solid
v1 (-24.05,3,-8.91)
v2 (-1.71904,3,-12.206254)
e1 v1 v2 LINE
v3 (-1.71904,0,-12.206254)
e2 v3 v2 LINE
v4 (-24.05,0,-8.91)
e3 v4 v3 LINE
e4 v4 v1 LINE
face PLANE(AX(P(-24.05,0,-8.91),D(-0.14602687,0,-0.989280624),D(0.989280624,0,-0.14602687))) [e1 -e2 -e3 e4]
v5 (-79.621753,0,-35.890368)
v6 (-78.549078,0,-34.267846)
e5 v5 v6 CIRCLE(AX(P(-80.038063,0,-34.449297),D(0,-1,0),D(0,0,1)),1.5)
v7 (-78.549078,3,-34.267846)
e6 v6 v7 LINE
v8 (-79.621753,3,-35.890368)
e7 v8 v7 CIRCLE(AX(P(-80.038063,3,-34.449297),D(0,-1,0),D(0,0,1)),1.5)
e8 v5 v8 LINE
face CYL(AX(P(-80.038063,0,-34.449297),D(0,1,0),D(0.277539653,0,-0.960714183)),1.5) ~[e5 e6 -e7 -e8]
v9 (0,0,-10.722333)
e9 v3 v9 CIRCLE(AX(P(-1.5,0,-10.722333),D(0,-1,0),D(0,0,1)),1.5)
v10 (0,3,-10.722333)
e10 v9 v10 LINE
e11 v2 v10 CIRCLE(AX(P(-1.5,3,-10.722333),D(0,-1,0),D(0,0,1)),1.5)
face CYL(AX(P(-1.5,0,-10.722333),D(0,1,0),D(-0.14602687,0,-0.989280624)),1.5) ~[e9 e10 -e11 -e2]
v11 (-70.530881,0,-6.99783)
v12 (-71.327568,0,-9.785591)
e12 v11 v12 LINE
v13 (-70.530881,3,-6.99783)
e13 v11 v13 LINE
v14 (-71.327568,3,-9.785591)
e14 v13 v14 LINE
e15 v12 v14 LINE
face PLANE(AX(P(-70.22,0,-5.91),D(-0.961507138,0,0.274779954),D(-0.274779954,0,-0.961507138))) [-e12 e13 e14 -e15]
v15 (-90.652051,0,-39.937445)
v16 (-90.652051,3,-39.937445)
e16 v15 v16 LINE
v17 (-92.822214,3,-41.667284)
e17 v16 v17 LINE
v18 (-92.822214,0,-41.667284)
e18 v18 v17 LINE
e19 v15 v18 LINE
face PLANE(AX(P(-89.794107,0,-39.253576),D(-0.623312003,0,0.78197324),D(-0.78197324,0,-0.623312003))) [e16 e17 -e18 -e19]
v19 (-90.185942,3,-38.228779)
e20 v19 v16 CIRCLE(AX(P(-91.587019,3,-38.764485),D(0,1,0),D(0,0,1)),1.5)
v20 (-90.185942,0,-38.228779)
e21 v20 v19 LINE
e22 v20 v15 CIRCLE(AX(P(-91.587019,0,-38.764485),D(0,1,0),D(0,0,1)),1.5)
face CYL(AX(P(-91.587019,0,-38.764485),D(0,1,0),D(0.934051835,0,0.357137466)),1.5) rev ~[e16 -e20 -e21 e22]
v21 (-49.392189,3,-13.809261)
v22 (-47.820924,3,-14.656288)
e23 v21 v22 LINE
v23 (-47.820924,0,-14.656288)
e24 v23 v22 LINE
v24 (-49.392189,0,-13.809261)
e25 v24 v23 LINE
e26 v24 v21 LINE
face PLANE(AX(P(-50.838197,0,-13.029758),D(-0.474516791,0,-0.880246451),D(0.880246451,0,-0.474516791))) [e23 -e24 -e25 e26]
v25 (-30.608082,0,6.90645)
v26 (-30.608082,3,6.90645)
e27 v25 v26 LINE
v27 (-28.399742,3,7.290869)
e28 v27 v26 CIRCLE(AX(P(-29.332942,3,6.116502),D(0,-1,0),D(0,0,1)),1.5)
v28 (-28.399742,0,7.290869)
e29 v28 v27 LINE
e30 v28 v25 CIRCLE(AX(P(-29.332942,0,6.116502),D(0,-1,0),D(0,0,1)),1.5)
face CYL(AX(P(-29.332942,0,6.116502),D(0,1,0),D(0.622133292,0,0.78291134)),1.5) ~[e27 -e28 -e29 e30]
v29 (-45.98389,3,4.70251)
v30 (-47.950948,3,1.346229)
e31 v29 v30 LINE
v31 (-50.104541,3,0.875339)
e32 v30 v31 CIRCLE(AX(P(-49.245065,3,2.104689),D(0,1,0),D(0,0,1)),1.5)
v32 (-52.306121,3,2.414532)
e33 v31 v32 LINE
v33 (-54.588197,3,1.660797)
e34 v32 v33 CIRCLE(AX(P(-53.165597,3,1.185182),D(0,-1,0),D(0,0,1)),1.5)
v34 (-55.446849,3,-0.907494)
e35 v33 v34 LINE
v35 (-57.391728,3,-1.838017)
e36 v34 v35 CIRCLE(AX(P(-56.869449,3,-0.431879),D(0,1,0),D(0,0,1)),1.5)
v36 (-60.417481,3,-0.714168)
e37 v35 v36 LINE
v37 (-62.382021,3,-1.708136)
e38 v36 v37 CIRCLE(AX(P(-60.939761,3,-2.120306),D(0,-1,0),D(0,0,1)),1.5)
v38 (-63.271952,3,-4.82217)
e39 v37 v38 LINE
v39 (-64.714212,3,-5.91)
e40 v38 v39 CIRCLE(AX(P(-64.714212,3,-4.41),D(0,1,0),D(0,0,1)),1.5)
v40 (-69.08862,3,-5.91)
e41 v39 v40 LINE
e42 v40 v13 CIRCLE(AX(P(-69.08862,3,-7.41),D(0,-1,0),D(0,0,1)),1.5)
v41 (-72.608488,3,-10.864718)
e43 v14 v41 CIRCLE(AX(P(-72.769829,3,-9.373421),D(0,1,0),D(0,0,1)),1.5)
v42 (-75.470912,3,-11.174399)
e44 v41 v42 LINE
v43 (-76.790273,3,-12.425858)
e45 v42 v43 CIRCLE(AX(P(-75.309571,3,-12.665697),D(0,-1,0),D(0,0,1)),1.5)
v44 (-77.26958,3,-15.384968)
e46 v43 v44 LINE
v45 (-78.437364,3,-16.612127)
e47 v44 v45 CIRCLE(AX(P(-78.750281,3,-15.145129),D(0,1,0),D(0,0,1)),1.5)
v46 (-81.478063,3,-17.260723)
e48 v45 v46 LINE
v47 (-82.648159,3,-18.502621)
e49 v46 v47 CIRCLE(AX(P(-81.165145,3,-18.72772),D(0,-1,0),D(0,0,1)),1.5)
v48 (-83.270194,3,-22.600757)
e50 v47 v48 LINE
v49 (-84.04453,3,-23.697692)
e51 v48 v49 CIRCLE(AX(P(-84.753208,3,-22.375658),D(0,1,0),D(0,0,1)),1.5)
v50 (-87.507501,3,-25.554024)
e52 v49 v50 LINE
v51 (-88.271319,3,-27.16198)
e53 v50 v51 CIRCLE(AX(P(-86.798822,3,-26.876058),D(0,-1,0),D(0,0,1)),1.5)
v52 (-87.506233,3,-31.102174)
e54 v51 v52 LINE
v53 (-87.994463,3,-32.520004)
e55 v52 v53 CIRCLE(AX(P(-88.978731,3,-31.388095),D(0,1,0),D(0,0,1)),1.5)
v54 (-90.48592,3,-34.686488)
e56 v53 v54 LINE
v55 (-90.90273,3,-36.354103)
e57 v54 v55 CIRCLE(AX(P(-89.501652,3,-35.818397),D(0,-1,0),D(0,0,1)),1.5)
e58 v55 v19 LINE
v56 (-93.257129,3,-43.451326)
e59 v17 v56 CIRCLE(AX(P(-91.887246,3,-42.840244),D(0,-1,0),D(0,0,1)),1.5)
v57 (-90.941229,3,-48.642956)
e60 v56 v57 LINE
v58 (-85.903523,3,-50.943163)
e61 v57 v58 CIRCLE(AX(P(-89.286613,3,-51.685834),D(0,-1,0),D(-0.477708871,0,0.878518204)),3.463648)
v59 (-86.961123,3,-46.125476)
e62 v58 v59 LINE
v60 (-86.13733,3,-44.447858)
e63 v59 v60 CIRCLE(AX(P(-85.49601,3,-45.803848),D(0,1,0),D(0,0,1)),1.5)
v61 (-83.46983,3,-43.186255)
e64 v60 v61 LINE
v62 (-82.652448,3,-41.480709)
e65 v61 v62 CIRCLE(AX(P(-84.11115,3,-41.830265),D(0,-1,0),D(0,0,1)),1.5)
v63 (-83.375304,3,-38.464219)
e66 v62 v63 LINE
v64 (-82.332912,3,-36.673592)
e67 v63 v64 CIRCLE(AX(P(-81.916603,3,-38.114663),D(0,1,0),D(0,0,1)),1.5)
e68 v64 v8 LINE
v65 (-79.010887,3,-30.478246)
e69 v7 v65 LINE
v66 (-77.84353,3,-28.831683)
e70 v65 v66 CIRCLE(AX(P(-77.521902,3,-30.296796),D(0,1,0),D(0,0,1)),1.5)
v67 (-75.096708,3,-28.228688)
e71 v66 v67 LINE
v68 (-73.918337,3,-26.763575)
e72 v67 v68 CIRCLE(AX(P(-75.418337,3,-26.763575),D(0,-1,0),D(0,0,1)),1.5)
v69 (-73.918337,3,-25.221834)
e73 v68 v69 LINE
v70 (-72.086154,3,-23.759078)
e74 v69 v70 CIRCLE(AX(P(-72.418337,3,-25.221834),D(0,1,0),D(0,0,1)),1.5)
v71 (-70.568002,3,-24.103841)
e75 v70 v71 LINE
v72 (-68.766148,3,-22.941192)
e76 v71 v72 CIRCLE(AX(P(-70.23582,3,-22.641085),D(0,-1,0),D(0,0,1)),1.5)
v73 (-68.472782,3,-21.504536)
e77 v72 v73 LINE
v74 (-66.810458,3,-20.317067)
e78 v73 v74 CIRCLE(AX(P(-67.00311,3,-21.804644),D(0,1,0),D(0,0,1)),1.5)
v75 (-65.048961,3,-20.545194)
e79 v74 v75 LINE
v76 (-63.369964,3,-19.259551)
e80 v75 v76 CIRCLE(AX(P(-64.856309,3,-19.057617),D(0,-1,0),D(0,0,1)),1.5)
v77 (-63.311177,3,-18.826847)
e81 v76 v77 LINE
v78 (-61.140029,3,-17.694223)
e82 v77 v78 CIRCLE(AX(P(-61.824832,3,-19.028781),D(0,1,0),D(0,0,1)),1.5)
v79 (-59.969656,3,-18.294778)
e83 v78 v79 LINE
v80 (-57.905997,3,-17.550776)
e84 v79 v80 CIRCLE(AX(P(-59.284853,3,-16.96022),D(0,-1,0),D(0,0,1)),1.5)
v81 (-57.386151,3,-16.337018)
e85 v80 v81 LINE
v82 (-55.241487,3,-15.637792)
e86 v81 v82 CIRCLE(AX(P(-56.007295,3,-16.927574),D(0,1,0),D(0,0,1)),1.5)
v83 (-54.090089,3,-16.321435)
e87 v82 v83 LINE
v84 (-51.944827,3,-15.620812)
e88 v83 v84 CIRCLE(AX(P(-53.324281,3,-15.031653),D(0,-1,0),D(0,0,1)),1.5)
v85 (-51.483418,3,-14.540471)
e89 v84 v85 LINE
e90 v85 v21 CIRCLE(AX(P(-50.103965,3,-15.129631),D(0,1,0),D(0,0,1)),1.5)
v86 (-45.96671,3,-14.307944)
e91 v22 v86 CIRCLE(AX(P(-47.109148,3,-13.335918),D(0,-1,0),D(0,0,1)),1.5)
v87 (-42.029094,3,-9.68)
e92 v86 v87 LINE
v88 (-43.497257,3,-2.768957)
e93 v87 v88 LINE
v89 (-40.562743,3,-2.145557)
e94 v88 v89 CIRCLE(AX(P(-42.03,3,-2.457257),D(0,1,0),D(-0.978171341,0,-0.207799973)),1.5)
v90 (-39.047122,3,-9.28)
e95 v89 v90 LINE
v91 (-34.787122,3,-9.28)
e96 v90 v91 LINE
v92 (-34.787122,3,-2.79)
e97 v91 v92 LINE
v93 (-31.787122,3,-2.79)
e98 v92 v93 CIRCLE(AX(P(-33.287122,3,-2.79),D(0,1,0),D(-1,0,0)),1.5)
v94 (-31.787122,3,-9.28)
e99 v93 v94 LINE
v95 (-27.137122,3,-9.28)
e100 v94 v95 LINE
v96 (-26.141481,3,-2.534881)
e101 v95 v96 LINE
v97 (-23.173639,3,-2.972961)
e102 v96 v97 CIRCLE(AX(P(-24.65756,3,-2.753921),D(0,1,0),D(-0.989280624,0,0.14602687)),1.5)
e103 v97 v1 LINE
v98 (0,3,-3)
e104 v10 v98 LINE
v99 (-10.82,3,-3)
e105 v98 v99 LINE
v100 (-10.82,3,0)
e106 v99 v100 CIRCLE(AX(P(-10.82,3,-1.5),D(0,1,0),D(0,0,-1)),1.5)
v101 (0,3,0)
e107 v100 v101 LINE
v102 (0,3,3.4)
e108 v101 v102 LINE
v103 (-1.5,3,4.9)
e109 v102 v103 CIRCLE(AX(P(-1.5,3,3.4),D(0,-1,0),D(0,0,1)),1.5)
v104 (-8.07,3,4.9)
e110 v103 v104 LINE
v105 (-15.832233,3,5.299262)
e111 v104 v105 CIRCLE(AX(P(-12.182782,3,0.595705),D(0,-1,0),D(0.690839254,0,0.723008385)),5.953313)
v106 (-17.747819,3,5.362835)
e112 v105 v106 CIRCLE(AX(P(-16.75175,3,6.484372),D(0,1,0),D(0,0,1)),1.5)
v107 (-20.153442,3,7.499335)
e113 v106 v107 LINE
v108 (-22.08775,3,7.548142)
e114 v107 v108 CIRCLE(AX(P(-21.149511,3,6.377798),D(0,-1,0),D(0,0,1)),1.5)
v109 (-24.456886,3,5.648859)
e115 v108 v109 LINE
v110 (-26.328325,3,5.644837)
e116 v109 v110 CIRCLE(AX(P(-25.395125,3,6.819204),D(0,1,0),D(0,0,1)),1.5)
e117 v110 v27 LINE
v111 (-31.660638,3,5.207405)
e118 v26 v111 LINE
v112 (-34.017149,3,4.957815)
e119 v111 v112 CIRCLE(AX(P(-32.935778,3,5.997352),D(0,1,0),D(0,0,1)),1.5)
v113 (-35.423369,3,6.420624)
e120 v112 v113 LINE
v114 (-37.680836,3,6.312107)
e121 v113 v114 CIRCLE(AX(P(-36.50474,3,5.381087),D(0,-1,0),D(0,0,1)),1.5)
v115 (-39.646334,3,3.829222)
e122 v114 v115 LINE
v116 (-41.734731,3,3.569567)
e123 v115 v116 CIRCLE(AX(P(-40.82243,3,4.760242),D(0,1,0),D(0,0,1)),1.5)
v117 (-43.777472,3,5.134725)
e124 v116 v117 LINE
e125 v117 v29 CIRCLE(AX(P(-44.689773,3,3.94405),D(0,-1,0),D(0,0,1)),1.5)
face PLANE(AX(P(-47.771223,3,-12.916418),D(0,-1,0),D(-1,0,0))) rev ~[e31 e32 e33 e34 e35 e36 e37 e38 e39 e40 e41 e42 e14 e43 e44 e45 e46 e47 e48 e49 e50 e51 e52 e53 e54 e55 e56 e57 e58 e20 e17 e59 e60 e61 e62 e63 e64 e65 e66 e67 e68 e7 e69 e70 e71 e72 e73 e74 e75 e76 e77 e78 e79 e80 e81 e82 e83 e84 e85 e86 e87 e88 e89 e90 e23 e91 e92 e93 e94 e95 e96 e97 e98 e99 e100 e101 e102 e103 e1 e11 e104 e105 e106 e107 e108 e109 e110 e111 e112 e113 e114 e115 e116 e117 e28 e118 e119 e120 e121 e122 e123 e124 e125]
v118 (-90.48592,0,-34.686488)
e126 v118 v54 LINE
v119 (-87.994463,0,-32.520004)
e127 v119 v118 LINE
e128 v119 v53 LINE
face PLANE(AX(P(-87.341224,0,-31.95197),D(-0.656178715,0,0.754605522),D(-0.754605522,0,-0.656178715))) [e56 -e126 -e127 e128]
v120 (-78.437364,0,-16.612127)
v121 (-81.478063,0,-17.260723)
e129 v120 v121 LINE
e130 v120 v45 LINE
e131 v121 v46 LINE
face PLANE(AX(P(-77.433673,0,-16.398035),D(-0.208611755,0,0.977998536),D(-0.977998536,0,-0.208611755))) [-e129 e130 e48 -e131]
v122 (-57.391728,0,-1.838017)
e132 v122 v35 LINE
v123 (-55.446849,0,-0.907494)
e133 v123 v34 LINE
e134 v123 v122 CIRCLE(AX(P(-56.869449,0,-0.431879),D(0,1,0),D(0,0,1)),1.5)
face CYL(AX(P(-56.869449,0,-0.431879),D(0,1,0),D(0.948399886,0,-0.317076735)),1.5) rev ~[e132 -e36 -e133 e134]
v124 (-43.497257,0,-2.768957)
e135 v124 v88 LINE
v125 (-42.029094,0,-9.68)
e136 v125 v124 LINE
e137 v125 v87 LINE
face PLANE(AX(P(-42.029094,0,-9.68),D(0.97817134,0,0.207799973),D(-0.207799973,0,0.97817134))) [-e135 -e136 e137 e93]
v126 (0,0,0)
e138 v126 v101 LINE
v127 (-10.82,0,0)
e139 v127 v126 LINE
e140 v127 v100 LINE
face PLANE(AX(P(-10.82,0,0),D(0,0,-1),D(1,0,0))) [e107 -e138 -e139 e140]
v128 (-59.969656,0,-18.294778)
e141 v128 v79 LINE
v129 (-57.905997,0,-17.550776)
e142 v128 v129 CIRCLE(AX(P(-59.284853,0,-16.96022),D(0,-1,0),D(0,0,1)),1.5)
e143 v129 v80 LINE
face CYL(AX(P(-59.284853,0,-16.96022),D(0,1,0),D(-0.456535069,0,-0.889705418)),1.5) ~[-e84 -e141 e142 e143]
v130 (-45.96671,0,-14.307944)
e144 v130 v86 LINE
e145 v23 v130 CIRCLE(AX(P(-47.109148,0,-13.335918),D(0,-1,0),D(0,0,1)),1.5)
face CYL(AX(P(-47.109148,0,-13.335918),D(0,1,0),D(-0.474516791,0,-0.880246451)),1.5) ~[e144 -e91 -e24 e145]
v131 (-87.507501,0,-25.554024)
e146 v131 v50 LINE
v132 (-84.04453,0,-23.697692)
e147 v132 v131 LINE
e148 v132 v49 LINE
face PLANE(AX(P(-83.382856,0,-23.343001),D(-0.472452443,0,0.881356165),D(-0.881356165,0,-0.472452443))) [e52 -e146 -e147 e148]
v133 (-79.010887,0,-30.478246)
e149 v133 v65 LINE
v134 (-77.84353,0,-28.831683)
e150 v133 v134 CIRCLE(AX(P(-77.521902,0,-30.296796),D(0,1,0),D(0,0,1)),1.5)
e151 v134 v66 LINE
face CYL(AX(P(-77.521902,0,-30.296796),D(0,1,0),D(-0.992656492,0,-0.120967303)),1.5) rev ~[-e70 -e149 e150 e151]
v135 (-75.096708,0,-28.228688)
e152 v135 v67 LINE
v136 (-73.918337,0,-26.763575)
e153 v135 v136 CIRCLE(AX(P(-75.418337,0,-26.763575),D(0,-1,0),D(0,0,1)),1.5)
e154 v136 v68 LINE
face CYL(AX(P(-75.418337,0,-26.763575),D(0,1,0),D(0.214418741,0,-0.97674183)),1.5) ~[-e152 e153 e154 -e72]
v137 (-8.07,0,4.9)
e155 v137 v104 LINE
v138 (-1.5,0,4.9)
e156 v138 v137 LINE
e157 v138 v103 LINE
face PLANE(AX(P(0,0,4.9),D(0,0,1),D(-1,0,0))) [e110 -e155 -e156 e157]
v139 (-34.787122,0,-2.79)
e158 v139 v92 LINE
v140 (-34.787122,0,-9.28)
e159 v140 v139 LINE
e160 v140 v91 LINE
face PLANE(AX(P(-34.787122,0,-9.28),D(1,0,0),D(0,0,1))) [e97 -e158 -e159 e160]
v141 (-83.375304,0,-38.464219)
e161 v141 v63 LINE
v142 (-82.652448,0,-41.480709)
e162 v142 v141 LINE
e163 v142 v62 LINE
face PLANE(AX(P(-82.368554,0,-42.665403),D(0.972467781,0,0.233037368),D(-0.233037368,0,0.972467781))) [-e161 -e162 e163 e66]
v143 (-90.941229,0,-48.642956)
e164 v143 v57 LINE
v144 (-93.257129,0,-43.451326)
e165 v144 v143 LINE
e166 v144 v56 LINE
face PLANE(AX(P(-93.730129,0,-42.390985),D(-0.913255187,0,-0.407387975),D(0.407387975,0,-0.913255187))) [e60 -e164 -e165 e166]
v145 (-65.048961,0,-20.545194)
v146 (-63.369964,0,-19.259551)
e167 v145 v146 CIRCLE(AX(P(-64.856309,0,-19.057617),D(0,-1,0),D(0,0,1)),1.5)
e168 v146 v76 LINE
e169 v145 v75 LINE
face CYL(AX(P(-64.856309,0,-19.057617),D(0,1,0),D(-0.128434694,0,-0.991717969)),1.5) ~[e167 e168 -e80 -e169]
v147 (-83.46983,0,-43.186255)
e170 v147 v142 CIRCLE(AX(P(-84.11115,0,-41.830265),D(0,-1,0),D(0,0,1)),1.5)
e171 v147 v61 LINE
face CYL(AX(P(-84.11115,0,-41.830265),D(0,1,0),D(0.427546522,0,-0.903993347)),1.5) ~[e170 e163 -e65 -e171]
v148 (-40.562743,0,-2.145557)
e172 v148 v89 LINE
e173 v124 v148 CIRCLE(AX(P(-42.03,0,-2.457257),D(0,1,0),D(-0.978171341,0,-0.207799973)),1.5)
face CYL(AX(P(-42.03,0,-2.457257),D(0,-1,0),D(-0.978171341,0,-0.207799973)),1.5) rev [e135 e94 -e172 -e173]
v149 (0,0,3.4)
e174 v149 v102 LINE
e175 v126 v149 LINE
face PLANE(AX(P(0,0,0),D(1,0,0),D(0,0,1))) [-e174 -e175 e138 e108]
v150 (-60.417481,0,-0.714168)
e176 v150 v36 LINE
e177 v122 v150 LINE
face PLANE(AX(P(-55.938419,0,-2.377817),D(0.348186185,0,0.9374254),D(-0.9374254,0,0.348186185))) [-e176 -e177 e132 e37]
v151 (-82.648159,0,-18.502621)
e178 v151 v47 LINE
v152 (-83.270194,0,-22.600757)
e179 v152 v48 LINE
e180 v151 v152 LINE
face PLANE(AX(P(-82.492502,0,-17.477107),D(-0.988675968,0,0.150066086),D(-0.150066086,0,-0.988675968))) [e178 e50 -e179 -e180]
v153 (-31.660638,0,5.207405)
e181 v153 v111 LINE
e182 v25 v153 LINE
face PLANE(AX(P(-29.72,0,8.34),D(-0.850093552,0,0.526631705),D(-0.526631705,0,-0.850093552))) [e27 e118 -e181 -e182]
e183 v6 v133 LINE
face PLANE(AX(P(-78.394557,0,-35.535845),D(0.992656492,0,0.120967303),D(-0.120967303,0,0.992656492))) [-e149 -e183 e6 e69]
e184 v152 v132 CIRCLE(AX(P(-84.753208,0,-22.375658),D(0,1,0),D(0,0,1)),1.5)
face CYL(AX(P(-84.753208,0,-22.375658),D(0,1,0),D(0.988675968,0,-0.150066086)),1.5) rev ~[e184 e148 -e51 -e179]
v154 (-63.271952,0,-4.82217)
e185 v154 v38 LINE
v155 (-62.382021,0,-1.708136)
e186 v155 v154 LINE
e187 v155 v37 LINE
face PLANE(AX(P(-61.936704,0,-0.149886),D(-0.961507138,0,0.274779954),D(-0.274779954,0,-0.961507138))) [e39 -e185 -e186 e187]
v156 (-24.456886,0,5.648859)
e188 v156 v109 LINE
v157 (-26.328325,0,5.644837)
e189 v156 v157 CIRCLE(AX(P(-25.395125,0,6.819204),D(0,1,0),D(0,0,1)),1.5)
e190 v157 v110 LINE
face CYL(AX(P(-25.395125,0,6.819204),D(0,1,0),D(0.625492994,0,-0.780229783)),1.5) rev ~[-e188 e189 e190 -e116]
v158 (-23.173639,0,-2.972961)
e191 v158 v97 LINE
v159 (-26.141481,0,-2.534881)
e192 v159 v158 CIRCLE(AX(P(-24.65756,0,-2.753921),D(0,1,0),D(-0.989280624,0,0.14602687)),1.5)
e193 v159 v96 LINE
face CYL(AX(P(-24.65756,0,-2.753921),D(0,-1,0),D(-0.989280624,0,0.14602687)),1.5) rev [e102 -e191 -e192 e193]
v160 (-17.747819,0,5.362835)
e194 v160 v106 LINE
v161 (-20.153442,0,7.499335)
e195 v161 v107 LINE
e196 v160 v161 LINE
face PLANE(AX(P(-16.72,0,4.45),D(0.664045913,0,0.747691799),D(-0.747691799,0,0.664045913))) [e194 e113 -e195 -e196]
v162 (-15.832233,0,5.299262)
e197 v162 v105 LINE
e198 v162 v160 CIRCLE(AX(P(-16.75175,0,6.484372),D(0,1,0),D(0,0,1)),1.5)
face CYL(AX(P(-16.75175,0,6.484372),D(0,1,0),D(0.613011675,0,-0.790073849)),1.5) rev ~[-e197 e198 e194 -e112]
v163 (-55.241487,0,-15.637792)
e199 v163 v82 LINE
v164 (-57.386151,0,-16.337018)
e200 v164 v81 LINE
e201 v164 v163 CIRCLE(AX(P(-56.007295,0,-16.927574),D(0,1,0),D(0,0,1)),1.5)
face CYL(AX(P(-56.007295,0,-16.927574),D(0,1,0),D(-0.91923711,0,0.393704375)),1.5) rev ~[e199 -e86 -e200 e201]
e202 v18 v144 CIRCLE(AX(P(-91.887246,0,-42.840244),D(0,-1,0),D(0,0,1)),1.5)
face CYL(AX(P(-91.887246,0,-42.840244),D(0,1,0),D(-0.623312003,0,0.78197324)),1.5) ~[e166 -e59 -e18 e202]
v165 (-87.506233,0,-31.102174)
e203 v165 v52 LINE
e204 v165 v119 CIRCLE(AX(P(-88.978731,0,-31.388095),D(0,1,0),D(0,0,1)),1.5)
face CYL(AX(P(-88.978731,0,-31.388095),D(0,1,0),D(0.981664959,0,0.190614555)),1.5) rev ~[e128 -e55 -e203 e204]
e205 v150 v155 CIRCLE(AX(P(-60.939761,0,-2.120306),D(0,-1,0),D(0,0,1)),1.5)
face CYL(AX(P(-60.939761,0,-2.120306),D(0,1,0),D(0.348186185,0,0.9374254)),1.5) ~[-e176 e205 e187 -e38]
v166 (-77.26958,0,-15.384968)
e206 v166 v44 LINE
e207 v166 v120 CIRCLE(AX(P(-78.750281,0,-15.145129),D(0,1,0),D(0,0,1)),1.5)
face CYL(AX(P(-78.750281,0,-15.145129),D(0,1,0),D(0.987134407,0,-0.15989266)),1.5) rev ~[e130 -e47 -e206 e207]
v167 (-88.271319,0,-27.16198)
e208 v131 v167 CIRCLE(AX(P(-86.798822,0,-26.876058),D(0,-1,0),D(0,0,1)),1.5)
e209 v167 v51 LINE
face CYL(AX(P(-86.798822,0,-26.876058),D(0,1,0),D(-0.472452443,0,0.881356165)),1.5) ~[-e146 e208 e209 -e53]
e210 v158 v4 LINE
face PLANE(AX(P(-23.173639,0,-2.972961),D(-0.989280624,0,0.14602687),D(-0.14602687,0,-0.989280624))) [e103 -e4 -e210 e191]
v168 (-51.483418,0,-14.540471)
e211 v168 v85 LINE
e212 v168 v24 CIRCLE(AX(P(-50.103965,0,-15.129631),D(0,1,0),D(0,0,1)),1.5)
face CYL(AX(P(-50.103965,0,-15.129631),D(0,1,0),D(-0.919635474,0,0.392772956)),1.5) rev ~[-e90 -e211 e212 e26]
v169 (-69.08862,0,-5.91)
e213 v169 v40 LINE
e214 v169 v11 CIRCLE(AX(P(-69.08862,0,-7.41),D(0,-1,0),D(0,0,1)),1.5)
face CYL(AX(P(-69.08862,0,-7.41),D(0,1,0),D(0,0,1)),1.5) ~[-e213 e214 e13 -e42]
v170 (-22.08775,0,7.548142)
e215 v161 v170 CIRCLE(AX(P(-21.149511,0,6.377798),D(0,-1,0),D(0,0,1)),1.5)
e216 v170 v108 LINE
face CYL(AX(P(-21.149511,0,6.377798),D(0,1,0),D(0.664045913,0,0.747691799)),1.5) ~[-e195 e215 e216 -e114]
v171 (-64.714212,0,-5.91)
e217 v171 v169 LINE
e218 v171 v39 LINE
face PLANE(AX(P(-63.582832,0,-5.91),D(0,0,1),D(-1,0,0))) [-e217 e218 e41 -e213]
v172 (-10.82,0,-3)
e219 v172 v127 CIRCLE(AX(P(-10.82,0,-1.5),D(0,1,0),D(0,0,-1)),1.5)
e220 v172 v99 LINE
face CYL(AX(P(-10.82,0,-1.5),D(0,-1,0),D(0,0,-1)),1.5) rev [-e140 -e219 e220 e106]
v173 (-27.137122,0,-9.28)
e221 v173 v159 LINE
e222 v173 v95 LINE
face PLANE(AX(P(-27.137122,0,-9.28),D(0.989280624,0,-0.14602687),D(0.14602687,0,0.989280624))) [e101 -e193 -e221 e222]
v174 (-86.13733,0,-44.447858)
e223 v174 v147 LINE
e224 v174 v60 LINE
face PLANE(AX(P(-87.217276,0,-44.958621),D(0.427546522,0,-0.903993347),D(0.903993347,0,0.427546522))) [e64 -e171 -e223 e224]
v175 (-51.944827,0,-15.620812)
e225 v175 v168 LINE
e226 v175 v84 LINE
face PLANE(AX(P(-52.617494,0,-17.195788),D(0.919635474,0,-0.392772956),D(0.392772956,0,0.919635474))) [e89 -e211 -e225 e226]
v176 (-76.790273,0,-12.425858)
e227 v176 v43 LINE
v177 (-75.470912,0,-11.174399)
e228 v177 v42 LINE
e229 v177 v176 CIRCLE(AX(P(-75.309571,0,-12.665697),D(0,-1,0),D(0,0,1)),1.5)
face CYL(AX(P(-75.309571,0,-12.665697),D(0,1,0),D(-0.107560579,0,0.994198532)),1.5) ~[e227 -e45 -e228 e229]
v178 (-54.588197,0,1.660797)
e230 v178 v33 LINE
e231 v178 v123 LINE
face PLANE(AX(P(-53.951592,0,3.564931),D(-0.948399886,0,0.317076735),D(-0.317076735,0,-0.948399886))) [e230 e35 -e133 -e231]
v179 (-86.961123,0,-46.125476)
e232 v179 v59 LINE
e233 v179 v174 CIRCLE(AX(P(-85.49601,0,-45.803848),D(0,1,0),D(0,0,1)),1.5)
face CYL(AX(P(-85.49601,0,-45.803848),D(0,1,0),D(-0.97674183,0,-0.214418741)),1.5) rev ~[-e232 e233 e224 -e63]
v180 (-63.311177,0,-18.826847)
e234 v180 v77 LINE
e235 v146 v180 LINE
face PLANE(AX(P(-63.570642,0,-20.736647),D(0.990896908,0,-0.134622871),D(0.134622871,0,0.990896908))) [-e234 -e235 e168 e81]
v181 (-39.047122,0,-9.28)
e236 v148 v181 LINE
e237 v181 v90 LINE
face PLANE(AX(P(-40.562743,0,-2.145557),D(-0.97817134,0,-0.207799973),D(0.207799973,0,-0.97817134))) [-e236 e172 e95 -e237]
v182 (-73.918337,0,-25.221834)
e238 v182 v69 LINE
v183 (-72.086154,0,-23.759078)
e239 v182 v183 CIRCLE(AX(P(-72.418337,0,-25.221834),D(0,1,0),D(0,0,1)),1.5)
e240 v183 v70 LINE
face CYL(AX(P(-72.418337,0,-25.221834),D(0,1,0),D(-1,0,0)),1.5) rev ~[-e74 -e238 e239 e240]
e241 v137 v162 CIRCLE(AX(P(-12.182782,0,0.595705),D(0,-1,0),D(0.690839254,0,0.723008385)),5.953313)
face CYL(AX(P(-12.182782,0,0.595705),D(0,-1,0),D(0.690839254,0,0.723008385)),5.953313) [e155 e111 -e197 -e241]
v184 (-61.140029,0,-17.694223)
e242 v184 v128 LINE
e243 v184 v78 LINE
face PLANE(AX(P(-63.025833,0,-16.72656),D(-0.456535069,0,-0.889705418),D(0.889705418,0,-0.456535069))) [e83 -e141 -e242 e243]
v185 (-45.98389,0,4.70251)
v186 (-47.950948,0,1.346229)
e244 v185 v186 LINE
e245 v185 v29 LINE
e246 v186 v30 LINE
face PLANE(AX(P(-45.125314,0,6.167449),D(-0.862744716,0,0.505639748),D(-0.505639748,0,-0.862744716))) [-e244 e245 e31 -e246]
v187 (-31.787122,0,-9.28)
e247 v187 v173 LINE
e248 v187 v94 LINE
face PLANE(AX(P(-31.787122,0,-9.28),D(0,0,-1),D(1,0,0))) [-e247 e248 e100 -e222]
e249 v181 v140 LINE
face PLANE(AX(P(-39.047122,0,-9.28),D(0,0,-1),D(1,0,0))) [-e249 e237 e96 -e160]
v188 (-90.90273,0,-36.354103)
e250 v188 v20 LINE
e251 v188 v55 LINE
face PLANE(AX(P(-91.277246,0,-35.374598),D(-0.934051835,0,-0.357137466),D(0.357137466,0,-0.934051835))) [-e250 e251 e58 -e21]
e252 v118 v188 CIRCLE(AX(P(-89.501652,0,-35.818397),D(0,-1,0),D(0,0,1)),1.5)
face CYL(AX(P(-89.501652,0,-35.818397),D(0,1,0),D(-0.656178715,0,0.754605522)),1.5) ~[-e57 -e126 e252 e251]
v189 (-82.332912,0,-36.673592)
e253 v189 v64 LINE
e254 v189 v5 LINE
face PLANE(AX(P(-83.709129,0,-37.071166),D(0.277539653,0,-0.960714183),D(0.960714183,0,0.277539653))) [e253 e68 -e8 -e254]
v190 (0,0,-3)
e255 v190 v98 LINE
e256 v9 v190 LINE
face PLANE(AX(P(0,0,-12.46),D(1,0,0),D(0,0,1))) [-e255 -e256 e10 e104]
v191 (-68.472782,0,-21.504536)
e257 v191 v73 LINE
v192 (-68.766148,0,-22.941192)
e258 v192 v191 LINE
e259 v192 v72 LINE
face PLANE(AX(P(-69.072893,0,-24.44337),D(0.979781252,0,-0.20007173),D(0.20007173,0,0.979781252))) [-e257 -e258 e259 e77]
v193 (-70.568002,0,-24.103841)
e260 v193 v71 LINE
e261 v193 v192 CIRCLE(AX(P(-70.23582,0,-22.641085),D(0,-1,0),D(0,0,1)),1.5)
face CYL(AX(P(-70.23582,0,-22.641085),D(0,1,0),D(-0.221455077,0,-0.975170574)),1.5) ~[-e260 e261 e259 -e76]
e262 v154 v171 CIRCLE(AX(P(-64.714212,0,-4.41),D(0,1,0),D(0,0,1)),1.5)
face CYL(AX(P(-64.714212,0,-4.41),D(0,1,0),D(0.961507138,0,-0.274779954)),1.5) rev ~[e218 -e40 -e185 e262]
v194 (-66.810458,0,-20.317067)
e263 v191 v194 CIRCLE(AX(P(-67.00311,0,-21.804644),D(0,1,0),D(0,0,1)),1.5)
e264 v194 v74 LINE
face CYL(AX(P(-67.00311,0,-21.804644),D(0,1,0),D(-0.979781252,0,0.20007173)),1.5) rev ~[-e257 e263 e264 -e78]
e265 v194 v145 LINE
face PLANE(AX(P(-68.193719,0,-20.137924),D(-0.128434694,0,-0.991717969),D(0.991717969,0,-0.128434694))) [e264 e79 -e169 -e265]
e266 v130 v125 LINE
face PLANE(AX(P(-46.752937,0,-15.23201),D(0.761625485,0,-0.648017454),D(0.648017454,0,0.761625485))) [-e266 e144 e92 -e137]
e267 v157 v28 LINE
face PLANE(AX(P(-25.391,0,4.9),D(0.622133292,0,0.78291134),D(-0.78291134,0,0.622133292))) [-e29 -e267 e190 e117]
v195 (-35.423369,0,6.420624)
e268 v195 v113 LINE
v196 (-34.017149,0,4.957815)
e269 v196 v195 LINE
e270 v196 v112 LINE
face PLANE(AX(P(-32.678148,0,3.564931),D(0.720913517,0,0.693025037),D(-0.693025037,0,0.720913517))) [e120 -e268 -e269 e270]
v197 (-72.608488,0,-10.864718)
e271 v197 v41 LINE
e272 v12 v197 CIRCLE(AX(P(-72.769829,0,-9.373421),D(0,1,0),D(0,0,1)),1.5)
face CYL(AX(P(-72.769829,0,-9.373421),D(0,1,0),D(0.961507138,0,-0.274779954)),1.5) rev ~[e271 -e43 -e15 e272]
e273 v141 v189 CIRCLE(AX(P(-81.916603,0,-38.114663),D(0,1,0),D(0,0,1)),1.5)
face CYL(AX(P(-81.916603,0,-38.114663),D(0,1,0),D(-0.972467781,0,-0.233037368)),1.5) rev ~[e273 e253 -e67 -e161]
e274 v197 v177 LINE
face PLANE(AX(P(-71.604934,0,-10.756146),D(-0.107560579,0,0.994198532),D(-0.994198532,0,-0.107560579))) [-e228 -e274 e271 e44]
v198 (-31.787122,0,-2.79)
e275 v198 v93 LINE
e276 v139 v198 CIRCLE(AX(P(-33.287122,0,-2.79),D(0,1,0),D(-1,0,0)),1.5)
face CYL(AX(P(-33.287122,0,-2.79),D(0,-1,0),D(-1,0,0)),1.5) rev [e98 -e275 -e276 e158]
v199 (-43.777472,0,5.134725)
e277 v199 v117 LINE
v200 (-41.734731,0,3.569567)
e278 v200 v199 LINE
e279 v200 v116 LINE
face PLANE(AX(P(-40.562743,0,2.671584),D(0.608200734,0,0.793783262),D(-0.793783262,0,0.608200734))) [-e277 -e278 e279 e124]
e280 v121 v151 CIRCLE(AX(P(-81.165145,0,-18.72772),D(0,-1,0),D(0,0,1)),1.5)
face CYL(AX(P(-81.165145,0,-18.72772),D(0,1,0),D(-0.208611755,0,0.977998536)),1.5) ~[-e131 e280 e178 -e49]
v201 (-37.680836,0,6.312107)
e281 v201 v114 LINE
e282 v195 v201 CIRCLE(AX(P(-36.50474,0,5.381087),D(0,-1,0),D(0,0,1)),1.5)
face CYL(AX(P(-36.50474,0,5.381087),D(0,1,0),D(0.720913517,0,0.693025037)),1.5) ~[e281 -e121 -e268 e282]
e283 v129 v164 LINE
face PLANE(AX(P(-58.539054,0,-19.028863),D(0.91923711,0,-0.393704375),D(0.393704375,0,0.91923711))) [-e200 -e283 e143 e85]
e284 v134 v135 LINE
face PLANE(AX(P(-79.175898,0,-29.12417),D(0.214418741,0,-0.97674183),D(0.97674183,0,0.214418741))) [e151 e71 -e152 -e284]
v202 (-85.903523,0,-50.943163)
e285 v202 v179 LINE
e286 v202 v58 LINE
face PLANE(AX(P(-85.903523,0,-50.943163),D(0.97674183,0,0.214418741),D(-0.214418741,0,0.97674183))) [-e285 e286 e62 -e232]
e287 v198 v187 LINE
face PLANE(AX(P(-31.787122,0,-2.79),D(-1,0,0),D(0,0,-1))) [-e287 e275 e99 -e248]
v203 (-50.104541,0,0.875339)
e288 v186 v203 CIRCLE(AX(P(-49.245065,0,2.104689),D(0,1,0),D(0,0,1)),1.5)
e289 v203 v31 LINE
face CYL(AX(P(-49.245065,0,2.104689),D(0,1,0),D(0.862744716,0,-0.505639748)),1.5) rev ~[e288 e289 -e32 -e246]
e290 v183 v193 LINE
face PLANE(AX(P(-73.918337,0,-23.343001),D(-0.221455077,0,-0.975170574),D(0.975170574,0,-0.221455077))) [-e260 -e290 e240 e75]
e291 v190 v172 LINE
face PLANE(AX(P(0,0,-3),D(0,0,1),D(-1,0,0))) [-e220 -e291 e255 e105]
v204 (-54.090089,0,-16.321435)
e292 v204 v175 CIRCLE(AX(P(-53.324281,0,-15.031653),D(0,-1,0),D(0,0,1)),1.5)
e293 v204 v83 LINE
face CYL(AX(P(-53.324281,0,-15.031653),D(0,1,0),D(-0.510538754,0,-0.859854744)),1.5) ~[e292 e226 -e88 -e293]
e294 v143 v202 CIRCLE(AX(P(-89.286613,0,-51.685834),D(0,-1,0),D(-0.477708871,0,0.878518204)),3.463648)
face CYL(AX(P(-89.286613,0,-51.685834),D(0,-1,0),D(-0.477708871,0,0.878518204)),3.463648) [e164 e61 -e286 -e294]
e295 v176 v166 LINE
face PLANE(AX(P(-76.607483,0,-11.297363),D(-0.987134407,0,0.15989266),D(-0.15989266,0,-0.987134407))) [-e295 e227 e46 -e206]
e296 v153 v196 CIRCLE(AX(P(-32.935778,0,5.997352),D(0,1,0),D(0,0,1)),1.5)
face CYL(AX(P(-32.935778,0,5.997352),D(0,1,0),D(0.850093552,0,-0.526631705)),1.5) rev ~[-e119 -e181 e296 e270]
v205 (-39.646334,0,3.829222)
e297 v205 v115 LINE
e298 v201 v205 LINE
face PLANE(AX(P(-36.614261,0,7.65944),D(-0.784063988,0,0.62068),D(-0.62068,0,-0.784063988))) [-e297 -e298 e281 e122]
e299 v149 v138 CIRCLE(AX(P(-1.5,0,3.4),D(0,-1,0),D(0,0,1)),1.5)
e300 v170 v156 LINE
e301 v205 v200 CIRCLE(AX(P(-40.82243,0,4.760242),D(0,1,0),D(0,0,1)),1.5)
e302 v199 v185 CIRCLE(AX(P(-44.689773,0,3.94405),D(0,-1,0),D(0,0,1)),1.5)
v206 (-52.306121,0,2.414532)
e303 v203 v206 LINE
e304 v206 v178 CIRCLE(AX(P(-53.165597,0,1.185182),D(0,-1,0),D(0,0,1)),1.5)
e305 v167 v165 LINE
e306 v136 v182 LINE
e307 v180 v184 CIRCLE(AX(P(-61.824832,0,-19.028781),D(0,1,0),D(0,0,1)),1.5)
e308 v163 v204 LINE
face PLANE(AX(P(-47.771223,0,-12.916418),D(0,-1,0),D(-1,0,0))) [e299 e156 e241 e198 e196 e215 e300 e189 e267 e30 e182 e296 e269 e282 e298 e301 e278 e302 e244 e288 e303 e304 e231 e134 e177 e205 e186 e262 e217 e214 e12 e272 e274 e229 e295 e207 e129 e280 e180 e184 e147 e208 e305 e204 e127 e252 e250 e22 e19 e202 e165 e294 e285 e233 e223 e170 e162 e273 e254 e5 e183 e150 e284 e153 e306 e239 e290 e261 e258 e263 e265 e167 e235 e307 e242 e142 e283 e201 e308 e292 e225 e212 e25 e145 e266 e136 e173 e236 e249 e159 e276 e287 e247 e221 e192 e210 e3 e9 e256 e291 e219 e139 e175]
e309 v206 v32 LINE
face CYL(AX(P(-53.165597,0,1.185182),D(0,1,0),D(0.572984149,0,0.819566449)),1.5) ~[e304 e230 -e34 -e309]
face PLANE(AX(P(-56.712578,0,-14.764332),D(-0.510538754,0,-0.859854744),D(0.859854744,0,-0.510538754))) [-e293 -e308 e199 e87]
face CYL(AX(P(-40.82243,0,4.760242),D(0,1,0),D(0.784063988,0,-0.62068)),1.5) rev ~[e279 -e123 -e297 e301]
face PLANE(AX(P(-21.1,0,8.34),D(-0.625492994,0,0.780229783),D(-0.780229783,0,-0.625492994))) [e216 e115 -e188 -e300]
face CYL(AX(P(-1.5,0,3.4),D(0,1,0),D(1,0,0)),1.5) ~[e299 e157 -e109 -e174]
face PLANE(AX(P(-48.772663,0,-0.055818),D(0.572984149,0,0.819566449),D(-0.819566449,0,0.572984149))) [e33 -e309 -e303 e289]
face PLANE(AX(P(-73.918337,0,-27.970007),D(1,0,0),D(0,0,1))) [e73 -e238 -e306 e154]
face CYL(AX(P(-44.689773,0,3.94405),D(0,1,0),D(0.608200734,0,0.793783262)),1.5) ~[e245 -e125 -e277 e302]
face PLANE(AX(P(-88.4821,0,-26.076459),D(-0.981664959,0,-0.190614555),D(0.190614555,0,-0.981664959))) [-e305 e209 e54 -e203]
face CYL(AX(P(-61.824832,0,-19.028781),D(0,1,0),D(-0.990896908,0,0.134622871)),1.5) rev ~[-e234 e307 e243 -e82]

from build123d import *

# Parameters (mm, degrees)
BOSS_EXTRUDE1_DEPTH = 3
FILLET1_R           = 1.5


with BuildPart() as part:
    # Sketch1 → Boss-Extrude1 (new body)
    with BuildSketch(Plane(origin=(0, 0, 0), x_dir=(1, 0, 0), z_dir=(0, 1, 0))):
        with BuildLine():
            Line((0, 0), (0, -4.9))
            Line((0, -4.9), (-8.07, -4.9))
            ThreePointArc((-8.07, -4.9), (-12.492074003, -6.540978064), (-16.72, -4.45))
            Line((-16.72, -4.45), (-21.1, -8.34))
            Line((-21.1, -8.34), (-25.391000021, -4.9))
            Line((-25.391000021, -4.9), (-29.72, -8.34))
            Line((-29.72, -8.34), (-32.678148271, -3.564930925))
            Line((-32.678148271, -3.564930925), (-36.614261147, -7.659439528))
            Line((-36.614261147, -7.659439528), (-40.562742989, -2.671583593))
            Line((-40.562742989, -2.671583593), (-45.125314278, -6.1674487))
            Line((-45.125314278, -6.1674487), (-48.772662965, 0.055817603))
            Line((-48.772662965, 0.055817603), (-53.951591598, -3.564930925))
            Line((-53.951591598, -3.564930925), (-55.938419332, 2.377817283))
            Line((-55.938419332, 2.377817283), (-61.936703958, 0.149885503))
            Line((-61.936703958, 0.149885503), (-63.582832138, 5.91))
            Line((-63.582832138, 5.91), (-70.22, 5.91))
            Line((-70.22, 5.91), (-71.604933744, 10.75614566))
            Line((-71.604933744, 10.75614566), (-76.607483243, 11.297362631))
            Line((-76.607483243, 11.297362631), (-77.433672711, 16.398034852))
            Line((-77.433672711, 16.398034852), (-82.492501507, 17.477107174))
            Line((-82.492501507, 17.477107174), (-83.382855617, 23.343000893))
            Line((-83.382855617, 23.343000893), (-88.482100064, 26.076459388))
            Line((-88.482100064, 26.076459388), (-87.341224149, 31.951970353))
            Line((-87.341224149, 31.951970353), (-91.277246058, 35.3745981))
            Line((-91.277246058, 35.3745981), (-89.794107367, 39.253576213))
            Line((-89.794107367, 39.253576213), (-93.730129276, 42.390984981))
            Line((-93.730129276, 42.390984981), (-90.94122884, 48.642955937))
            ThreePointArc((-90.94122884, 48.642955937), (-90.725239113, 54.836582666), (-85.903522924, 50.94316301))
            Line((-85.903522924, 50.94316301), (-87.217276284, 44.958621486))
            Line((-87.217276284, 44.958621486), (-82.368553642, 42.665402728))
            Line((-82.368553642, 42.665402728), (-83.70912889, 37.071165861))
            Line((-83.70912889, 37.071165861), (-78.394556731, 35.535845015))
            Line((-78.394556731, 35.535845015), (-79.175897543, 29.124170033))
            Line((-79.175897543, 29.124170033), (-73.918336593, 27.970006705))
            Line((-73.918336593, 27.970006705), (-73.918336593, 23.343000893))
            Line((-73.918336593, 23.343000893), (-69.072893301, 24.443370455))
            Line((-69.072893301, 24.443370455), (-68.193719482, 20.137924483))
            Line((-68.193719482, 20.137924483), (-63.570641565, 20.736646715))
            Line((-63.570641565, 20.736646715), (-63.025832704, 16.726559775))
            Line((-63.025832704, 16.726559775), (-58.539054065, 19.028863157))
            Line((-58.539054065, 19.028863157), (-56.712577987, 14.764331957))
            Line((-56.712577987, 14.764331957), (-52.617493847, 17.195788166))
            Line((-52.617493847, 17.195788166), (-50.838197485, 13.029757816))
            Line((-50.838197485, 13.029757816), (-46.752937471, 15.232009778))
            Line((-46.752937471, 15.232009778), (-42.029094435, 9.68))
            Line((-42.029094435, 9.68), (-43.497257011, 2.76895697))
            ThreePointArc((-43.497257011, 2.76895697), (-42.341699959, 0.99), (-40.562742989, 2.145557051))
            Line((-40.562742989, 2.145557051), (-39.047121962, 9.28))
            Line((-39.047121962, 9.28), (-34.787121962, 9.28))
            Line((-34.787121962, 9.28), (-34.787121962, 2.79))
            ThreePointArc((-34.787121962, 2.79), (-33.287121962, 1.29), (-31.787121962, 2.79))
            Line((-31.787121962, 2.79), (-31.787121962, 9.28))
            Line((-31.787121962, 9.28), (-27.137121962, 9.28))
            Line((-27.137121962, 9.28), (-26.141480642, 2.534880632))
            ThreePointArc((-26.141480642, 2.534880632), (-24.438519401, 1.27), (-23.173638769, 2.972961241))
            Line((-23.173638769, 2.972961241), (-24.05, 8.91))
            Line((-24.05, 8.91), (0, 12.46))
            Line((0, 12.46), (0, 3))
            Line((0, 3), (-10.82, 3))
            ThreePointArc((-10.82, 3), (-12.32, 1.5), (-10.82, 0))
            Line((-10.82, 0), (0, 0))
        make_face()
    extrude(amount=BOSS_EXTRUDE1_DEPTH)

    # Fillet1
    fillet1_edges = [part.edges().sort_by_distance(p)[0] for p in [
        (-40.562742989, 1.5, 2.671583593),
        (-45.125314278, 1.5, 6.1674487),
        (-48.772662965, 1.5, -0.055817603),
        (-53.951591598, 1.5, 3.564930925),
        (-55.938419332, 1.5, -2.377817283),
        (-61.936703958, 1.5, -0.149885503),
        (-63.582832138, 1.5, -5.91),
        (-70.22, 1.5, -5.91),
        (-71.604933744, 1.5, -10.75614566),
        (-76.607483243, 1.5, -11.297362631),
        (-77.433672711, 1.5, -16.398034852),
        (-82.492501507, 1.5, -17.477107174),
        (-83.382855617, 1.5, -23.343000893),
        (-88.482100064, 1.5, -26.076459388),
        (-87.341224149, 1.5, -31.951970353),
        (-91.277246058, 1.5, -35.3745981),
        (-89.794107367, 1.5, -39.253576213),
        (-93.730129276, 1.5, -42.390984981),
        (-87.217276284, 1.5, -44.958621486),
        (-82.368553642, 1.5, -42.665402728),
        (-83.70912889, 1.5, -37.071165861),
        (-78.394556731, 1.5, -35.535845015),
        (-79.175897543, 1.5, -29.124170033),
        (-73.918336593, 1.5, -27.970006705),
        (-73.918336593, 1.5, -23.343000893),
        (-69.072893301, 1.5, -24.443370455),
        (-68.193719482, 1.5, -20.137924483),
        (-63.570641565, 1.5, -20.736646715),
        (-63.025832704, 1.5, -16.726559775),
        (-58.539054065, 1.5, -19.028863157),
        (-56.712577987, 1.5, -14.764331957),
        (-52.617493847, 1.5, -17.195788166),
        (-50.838197485, 1.5, -13.029757816),
        (-46.752937471, 1.5, -15.232009778),
        (0, 1.5, -12.46),
        (0, 1.5, 4.9),
        (-16.72, 1.5, 4.45),
        (-21.1, 1.5, 8.34),
        (-25.391000021, 1.5, 4.9),
        (-29.72, 1.5, 8.34),
        (-32.678148271, 1.5, 3.564930925),
        (-36.614261147, 1.5, 7.659439528),
    ]]
    fillet(fillet1_edges, radius=FILLET1_R)


solid = part.part
